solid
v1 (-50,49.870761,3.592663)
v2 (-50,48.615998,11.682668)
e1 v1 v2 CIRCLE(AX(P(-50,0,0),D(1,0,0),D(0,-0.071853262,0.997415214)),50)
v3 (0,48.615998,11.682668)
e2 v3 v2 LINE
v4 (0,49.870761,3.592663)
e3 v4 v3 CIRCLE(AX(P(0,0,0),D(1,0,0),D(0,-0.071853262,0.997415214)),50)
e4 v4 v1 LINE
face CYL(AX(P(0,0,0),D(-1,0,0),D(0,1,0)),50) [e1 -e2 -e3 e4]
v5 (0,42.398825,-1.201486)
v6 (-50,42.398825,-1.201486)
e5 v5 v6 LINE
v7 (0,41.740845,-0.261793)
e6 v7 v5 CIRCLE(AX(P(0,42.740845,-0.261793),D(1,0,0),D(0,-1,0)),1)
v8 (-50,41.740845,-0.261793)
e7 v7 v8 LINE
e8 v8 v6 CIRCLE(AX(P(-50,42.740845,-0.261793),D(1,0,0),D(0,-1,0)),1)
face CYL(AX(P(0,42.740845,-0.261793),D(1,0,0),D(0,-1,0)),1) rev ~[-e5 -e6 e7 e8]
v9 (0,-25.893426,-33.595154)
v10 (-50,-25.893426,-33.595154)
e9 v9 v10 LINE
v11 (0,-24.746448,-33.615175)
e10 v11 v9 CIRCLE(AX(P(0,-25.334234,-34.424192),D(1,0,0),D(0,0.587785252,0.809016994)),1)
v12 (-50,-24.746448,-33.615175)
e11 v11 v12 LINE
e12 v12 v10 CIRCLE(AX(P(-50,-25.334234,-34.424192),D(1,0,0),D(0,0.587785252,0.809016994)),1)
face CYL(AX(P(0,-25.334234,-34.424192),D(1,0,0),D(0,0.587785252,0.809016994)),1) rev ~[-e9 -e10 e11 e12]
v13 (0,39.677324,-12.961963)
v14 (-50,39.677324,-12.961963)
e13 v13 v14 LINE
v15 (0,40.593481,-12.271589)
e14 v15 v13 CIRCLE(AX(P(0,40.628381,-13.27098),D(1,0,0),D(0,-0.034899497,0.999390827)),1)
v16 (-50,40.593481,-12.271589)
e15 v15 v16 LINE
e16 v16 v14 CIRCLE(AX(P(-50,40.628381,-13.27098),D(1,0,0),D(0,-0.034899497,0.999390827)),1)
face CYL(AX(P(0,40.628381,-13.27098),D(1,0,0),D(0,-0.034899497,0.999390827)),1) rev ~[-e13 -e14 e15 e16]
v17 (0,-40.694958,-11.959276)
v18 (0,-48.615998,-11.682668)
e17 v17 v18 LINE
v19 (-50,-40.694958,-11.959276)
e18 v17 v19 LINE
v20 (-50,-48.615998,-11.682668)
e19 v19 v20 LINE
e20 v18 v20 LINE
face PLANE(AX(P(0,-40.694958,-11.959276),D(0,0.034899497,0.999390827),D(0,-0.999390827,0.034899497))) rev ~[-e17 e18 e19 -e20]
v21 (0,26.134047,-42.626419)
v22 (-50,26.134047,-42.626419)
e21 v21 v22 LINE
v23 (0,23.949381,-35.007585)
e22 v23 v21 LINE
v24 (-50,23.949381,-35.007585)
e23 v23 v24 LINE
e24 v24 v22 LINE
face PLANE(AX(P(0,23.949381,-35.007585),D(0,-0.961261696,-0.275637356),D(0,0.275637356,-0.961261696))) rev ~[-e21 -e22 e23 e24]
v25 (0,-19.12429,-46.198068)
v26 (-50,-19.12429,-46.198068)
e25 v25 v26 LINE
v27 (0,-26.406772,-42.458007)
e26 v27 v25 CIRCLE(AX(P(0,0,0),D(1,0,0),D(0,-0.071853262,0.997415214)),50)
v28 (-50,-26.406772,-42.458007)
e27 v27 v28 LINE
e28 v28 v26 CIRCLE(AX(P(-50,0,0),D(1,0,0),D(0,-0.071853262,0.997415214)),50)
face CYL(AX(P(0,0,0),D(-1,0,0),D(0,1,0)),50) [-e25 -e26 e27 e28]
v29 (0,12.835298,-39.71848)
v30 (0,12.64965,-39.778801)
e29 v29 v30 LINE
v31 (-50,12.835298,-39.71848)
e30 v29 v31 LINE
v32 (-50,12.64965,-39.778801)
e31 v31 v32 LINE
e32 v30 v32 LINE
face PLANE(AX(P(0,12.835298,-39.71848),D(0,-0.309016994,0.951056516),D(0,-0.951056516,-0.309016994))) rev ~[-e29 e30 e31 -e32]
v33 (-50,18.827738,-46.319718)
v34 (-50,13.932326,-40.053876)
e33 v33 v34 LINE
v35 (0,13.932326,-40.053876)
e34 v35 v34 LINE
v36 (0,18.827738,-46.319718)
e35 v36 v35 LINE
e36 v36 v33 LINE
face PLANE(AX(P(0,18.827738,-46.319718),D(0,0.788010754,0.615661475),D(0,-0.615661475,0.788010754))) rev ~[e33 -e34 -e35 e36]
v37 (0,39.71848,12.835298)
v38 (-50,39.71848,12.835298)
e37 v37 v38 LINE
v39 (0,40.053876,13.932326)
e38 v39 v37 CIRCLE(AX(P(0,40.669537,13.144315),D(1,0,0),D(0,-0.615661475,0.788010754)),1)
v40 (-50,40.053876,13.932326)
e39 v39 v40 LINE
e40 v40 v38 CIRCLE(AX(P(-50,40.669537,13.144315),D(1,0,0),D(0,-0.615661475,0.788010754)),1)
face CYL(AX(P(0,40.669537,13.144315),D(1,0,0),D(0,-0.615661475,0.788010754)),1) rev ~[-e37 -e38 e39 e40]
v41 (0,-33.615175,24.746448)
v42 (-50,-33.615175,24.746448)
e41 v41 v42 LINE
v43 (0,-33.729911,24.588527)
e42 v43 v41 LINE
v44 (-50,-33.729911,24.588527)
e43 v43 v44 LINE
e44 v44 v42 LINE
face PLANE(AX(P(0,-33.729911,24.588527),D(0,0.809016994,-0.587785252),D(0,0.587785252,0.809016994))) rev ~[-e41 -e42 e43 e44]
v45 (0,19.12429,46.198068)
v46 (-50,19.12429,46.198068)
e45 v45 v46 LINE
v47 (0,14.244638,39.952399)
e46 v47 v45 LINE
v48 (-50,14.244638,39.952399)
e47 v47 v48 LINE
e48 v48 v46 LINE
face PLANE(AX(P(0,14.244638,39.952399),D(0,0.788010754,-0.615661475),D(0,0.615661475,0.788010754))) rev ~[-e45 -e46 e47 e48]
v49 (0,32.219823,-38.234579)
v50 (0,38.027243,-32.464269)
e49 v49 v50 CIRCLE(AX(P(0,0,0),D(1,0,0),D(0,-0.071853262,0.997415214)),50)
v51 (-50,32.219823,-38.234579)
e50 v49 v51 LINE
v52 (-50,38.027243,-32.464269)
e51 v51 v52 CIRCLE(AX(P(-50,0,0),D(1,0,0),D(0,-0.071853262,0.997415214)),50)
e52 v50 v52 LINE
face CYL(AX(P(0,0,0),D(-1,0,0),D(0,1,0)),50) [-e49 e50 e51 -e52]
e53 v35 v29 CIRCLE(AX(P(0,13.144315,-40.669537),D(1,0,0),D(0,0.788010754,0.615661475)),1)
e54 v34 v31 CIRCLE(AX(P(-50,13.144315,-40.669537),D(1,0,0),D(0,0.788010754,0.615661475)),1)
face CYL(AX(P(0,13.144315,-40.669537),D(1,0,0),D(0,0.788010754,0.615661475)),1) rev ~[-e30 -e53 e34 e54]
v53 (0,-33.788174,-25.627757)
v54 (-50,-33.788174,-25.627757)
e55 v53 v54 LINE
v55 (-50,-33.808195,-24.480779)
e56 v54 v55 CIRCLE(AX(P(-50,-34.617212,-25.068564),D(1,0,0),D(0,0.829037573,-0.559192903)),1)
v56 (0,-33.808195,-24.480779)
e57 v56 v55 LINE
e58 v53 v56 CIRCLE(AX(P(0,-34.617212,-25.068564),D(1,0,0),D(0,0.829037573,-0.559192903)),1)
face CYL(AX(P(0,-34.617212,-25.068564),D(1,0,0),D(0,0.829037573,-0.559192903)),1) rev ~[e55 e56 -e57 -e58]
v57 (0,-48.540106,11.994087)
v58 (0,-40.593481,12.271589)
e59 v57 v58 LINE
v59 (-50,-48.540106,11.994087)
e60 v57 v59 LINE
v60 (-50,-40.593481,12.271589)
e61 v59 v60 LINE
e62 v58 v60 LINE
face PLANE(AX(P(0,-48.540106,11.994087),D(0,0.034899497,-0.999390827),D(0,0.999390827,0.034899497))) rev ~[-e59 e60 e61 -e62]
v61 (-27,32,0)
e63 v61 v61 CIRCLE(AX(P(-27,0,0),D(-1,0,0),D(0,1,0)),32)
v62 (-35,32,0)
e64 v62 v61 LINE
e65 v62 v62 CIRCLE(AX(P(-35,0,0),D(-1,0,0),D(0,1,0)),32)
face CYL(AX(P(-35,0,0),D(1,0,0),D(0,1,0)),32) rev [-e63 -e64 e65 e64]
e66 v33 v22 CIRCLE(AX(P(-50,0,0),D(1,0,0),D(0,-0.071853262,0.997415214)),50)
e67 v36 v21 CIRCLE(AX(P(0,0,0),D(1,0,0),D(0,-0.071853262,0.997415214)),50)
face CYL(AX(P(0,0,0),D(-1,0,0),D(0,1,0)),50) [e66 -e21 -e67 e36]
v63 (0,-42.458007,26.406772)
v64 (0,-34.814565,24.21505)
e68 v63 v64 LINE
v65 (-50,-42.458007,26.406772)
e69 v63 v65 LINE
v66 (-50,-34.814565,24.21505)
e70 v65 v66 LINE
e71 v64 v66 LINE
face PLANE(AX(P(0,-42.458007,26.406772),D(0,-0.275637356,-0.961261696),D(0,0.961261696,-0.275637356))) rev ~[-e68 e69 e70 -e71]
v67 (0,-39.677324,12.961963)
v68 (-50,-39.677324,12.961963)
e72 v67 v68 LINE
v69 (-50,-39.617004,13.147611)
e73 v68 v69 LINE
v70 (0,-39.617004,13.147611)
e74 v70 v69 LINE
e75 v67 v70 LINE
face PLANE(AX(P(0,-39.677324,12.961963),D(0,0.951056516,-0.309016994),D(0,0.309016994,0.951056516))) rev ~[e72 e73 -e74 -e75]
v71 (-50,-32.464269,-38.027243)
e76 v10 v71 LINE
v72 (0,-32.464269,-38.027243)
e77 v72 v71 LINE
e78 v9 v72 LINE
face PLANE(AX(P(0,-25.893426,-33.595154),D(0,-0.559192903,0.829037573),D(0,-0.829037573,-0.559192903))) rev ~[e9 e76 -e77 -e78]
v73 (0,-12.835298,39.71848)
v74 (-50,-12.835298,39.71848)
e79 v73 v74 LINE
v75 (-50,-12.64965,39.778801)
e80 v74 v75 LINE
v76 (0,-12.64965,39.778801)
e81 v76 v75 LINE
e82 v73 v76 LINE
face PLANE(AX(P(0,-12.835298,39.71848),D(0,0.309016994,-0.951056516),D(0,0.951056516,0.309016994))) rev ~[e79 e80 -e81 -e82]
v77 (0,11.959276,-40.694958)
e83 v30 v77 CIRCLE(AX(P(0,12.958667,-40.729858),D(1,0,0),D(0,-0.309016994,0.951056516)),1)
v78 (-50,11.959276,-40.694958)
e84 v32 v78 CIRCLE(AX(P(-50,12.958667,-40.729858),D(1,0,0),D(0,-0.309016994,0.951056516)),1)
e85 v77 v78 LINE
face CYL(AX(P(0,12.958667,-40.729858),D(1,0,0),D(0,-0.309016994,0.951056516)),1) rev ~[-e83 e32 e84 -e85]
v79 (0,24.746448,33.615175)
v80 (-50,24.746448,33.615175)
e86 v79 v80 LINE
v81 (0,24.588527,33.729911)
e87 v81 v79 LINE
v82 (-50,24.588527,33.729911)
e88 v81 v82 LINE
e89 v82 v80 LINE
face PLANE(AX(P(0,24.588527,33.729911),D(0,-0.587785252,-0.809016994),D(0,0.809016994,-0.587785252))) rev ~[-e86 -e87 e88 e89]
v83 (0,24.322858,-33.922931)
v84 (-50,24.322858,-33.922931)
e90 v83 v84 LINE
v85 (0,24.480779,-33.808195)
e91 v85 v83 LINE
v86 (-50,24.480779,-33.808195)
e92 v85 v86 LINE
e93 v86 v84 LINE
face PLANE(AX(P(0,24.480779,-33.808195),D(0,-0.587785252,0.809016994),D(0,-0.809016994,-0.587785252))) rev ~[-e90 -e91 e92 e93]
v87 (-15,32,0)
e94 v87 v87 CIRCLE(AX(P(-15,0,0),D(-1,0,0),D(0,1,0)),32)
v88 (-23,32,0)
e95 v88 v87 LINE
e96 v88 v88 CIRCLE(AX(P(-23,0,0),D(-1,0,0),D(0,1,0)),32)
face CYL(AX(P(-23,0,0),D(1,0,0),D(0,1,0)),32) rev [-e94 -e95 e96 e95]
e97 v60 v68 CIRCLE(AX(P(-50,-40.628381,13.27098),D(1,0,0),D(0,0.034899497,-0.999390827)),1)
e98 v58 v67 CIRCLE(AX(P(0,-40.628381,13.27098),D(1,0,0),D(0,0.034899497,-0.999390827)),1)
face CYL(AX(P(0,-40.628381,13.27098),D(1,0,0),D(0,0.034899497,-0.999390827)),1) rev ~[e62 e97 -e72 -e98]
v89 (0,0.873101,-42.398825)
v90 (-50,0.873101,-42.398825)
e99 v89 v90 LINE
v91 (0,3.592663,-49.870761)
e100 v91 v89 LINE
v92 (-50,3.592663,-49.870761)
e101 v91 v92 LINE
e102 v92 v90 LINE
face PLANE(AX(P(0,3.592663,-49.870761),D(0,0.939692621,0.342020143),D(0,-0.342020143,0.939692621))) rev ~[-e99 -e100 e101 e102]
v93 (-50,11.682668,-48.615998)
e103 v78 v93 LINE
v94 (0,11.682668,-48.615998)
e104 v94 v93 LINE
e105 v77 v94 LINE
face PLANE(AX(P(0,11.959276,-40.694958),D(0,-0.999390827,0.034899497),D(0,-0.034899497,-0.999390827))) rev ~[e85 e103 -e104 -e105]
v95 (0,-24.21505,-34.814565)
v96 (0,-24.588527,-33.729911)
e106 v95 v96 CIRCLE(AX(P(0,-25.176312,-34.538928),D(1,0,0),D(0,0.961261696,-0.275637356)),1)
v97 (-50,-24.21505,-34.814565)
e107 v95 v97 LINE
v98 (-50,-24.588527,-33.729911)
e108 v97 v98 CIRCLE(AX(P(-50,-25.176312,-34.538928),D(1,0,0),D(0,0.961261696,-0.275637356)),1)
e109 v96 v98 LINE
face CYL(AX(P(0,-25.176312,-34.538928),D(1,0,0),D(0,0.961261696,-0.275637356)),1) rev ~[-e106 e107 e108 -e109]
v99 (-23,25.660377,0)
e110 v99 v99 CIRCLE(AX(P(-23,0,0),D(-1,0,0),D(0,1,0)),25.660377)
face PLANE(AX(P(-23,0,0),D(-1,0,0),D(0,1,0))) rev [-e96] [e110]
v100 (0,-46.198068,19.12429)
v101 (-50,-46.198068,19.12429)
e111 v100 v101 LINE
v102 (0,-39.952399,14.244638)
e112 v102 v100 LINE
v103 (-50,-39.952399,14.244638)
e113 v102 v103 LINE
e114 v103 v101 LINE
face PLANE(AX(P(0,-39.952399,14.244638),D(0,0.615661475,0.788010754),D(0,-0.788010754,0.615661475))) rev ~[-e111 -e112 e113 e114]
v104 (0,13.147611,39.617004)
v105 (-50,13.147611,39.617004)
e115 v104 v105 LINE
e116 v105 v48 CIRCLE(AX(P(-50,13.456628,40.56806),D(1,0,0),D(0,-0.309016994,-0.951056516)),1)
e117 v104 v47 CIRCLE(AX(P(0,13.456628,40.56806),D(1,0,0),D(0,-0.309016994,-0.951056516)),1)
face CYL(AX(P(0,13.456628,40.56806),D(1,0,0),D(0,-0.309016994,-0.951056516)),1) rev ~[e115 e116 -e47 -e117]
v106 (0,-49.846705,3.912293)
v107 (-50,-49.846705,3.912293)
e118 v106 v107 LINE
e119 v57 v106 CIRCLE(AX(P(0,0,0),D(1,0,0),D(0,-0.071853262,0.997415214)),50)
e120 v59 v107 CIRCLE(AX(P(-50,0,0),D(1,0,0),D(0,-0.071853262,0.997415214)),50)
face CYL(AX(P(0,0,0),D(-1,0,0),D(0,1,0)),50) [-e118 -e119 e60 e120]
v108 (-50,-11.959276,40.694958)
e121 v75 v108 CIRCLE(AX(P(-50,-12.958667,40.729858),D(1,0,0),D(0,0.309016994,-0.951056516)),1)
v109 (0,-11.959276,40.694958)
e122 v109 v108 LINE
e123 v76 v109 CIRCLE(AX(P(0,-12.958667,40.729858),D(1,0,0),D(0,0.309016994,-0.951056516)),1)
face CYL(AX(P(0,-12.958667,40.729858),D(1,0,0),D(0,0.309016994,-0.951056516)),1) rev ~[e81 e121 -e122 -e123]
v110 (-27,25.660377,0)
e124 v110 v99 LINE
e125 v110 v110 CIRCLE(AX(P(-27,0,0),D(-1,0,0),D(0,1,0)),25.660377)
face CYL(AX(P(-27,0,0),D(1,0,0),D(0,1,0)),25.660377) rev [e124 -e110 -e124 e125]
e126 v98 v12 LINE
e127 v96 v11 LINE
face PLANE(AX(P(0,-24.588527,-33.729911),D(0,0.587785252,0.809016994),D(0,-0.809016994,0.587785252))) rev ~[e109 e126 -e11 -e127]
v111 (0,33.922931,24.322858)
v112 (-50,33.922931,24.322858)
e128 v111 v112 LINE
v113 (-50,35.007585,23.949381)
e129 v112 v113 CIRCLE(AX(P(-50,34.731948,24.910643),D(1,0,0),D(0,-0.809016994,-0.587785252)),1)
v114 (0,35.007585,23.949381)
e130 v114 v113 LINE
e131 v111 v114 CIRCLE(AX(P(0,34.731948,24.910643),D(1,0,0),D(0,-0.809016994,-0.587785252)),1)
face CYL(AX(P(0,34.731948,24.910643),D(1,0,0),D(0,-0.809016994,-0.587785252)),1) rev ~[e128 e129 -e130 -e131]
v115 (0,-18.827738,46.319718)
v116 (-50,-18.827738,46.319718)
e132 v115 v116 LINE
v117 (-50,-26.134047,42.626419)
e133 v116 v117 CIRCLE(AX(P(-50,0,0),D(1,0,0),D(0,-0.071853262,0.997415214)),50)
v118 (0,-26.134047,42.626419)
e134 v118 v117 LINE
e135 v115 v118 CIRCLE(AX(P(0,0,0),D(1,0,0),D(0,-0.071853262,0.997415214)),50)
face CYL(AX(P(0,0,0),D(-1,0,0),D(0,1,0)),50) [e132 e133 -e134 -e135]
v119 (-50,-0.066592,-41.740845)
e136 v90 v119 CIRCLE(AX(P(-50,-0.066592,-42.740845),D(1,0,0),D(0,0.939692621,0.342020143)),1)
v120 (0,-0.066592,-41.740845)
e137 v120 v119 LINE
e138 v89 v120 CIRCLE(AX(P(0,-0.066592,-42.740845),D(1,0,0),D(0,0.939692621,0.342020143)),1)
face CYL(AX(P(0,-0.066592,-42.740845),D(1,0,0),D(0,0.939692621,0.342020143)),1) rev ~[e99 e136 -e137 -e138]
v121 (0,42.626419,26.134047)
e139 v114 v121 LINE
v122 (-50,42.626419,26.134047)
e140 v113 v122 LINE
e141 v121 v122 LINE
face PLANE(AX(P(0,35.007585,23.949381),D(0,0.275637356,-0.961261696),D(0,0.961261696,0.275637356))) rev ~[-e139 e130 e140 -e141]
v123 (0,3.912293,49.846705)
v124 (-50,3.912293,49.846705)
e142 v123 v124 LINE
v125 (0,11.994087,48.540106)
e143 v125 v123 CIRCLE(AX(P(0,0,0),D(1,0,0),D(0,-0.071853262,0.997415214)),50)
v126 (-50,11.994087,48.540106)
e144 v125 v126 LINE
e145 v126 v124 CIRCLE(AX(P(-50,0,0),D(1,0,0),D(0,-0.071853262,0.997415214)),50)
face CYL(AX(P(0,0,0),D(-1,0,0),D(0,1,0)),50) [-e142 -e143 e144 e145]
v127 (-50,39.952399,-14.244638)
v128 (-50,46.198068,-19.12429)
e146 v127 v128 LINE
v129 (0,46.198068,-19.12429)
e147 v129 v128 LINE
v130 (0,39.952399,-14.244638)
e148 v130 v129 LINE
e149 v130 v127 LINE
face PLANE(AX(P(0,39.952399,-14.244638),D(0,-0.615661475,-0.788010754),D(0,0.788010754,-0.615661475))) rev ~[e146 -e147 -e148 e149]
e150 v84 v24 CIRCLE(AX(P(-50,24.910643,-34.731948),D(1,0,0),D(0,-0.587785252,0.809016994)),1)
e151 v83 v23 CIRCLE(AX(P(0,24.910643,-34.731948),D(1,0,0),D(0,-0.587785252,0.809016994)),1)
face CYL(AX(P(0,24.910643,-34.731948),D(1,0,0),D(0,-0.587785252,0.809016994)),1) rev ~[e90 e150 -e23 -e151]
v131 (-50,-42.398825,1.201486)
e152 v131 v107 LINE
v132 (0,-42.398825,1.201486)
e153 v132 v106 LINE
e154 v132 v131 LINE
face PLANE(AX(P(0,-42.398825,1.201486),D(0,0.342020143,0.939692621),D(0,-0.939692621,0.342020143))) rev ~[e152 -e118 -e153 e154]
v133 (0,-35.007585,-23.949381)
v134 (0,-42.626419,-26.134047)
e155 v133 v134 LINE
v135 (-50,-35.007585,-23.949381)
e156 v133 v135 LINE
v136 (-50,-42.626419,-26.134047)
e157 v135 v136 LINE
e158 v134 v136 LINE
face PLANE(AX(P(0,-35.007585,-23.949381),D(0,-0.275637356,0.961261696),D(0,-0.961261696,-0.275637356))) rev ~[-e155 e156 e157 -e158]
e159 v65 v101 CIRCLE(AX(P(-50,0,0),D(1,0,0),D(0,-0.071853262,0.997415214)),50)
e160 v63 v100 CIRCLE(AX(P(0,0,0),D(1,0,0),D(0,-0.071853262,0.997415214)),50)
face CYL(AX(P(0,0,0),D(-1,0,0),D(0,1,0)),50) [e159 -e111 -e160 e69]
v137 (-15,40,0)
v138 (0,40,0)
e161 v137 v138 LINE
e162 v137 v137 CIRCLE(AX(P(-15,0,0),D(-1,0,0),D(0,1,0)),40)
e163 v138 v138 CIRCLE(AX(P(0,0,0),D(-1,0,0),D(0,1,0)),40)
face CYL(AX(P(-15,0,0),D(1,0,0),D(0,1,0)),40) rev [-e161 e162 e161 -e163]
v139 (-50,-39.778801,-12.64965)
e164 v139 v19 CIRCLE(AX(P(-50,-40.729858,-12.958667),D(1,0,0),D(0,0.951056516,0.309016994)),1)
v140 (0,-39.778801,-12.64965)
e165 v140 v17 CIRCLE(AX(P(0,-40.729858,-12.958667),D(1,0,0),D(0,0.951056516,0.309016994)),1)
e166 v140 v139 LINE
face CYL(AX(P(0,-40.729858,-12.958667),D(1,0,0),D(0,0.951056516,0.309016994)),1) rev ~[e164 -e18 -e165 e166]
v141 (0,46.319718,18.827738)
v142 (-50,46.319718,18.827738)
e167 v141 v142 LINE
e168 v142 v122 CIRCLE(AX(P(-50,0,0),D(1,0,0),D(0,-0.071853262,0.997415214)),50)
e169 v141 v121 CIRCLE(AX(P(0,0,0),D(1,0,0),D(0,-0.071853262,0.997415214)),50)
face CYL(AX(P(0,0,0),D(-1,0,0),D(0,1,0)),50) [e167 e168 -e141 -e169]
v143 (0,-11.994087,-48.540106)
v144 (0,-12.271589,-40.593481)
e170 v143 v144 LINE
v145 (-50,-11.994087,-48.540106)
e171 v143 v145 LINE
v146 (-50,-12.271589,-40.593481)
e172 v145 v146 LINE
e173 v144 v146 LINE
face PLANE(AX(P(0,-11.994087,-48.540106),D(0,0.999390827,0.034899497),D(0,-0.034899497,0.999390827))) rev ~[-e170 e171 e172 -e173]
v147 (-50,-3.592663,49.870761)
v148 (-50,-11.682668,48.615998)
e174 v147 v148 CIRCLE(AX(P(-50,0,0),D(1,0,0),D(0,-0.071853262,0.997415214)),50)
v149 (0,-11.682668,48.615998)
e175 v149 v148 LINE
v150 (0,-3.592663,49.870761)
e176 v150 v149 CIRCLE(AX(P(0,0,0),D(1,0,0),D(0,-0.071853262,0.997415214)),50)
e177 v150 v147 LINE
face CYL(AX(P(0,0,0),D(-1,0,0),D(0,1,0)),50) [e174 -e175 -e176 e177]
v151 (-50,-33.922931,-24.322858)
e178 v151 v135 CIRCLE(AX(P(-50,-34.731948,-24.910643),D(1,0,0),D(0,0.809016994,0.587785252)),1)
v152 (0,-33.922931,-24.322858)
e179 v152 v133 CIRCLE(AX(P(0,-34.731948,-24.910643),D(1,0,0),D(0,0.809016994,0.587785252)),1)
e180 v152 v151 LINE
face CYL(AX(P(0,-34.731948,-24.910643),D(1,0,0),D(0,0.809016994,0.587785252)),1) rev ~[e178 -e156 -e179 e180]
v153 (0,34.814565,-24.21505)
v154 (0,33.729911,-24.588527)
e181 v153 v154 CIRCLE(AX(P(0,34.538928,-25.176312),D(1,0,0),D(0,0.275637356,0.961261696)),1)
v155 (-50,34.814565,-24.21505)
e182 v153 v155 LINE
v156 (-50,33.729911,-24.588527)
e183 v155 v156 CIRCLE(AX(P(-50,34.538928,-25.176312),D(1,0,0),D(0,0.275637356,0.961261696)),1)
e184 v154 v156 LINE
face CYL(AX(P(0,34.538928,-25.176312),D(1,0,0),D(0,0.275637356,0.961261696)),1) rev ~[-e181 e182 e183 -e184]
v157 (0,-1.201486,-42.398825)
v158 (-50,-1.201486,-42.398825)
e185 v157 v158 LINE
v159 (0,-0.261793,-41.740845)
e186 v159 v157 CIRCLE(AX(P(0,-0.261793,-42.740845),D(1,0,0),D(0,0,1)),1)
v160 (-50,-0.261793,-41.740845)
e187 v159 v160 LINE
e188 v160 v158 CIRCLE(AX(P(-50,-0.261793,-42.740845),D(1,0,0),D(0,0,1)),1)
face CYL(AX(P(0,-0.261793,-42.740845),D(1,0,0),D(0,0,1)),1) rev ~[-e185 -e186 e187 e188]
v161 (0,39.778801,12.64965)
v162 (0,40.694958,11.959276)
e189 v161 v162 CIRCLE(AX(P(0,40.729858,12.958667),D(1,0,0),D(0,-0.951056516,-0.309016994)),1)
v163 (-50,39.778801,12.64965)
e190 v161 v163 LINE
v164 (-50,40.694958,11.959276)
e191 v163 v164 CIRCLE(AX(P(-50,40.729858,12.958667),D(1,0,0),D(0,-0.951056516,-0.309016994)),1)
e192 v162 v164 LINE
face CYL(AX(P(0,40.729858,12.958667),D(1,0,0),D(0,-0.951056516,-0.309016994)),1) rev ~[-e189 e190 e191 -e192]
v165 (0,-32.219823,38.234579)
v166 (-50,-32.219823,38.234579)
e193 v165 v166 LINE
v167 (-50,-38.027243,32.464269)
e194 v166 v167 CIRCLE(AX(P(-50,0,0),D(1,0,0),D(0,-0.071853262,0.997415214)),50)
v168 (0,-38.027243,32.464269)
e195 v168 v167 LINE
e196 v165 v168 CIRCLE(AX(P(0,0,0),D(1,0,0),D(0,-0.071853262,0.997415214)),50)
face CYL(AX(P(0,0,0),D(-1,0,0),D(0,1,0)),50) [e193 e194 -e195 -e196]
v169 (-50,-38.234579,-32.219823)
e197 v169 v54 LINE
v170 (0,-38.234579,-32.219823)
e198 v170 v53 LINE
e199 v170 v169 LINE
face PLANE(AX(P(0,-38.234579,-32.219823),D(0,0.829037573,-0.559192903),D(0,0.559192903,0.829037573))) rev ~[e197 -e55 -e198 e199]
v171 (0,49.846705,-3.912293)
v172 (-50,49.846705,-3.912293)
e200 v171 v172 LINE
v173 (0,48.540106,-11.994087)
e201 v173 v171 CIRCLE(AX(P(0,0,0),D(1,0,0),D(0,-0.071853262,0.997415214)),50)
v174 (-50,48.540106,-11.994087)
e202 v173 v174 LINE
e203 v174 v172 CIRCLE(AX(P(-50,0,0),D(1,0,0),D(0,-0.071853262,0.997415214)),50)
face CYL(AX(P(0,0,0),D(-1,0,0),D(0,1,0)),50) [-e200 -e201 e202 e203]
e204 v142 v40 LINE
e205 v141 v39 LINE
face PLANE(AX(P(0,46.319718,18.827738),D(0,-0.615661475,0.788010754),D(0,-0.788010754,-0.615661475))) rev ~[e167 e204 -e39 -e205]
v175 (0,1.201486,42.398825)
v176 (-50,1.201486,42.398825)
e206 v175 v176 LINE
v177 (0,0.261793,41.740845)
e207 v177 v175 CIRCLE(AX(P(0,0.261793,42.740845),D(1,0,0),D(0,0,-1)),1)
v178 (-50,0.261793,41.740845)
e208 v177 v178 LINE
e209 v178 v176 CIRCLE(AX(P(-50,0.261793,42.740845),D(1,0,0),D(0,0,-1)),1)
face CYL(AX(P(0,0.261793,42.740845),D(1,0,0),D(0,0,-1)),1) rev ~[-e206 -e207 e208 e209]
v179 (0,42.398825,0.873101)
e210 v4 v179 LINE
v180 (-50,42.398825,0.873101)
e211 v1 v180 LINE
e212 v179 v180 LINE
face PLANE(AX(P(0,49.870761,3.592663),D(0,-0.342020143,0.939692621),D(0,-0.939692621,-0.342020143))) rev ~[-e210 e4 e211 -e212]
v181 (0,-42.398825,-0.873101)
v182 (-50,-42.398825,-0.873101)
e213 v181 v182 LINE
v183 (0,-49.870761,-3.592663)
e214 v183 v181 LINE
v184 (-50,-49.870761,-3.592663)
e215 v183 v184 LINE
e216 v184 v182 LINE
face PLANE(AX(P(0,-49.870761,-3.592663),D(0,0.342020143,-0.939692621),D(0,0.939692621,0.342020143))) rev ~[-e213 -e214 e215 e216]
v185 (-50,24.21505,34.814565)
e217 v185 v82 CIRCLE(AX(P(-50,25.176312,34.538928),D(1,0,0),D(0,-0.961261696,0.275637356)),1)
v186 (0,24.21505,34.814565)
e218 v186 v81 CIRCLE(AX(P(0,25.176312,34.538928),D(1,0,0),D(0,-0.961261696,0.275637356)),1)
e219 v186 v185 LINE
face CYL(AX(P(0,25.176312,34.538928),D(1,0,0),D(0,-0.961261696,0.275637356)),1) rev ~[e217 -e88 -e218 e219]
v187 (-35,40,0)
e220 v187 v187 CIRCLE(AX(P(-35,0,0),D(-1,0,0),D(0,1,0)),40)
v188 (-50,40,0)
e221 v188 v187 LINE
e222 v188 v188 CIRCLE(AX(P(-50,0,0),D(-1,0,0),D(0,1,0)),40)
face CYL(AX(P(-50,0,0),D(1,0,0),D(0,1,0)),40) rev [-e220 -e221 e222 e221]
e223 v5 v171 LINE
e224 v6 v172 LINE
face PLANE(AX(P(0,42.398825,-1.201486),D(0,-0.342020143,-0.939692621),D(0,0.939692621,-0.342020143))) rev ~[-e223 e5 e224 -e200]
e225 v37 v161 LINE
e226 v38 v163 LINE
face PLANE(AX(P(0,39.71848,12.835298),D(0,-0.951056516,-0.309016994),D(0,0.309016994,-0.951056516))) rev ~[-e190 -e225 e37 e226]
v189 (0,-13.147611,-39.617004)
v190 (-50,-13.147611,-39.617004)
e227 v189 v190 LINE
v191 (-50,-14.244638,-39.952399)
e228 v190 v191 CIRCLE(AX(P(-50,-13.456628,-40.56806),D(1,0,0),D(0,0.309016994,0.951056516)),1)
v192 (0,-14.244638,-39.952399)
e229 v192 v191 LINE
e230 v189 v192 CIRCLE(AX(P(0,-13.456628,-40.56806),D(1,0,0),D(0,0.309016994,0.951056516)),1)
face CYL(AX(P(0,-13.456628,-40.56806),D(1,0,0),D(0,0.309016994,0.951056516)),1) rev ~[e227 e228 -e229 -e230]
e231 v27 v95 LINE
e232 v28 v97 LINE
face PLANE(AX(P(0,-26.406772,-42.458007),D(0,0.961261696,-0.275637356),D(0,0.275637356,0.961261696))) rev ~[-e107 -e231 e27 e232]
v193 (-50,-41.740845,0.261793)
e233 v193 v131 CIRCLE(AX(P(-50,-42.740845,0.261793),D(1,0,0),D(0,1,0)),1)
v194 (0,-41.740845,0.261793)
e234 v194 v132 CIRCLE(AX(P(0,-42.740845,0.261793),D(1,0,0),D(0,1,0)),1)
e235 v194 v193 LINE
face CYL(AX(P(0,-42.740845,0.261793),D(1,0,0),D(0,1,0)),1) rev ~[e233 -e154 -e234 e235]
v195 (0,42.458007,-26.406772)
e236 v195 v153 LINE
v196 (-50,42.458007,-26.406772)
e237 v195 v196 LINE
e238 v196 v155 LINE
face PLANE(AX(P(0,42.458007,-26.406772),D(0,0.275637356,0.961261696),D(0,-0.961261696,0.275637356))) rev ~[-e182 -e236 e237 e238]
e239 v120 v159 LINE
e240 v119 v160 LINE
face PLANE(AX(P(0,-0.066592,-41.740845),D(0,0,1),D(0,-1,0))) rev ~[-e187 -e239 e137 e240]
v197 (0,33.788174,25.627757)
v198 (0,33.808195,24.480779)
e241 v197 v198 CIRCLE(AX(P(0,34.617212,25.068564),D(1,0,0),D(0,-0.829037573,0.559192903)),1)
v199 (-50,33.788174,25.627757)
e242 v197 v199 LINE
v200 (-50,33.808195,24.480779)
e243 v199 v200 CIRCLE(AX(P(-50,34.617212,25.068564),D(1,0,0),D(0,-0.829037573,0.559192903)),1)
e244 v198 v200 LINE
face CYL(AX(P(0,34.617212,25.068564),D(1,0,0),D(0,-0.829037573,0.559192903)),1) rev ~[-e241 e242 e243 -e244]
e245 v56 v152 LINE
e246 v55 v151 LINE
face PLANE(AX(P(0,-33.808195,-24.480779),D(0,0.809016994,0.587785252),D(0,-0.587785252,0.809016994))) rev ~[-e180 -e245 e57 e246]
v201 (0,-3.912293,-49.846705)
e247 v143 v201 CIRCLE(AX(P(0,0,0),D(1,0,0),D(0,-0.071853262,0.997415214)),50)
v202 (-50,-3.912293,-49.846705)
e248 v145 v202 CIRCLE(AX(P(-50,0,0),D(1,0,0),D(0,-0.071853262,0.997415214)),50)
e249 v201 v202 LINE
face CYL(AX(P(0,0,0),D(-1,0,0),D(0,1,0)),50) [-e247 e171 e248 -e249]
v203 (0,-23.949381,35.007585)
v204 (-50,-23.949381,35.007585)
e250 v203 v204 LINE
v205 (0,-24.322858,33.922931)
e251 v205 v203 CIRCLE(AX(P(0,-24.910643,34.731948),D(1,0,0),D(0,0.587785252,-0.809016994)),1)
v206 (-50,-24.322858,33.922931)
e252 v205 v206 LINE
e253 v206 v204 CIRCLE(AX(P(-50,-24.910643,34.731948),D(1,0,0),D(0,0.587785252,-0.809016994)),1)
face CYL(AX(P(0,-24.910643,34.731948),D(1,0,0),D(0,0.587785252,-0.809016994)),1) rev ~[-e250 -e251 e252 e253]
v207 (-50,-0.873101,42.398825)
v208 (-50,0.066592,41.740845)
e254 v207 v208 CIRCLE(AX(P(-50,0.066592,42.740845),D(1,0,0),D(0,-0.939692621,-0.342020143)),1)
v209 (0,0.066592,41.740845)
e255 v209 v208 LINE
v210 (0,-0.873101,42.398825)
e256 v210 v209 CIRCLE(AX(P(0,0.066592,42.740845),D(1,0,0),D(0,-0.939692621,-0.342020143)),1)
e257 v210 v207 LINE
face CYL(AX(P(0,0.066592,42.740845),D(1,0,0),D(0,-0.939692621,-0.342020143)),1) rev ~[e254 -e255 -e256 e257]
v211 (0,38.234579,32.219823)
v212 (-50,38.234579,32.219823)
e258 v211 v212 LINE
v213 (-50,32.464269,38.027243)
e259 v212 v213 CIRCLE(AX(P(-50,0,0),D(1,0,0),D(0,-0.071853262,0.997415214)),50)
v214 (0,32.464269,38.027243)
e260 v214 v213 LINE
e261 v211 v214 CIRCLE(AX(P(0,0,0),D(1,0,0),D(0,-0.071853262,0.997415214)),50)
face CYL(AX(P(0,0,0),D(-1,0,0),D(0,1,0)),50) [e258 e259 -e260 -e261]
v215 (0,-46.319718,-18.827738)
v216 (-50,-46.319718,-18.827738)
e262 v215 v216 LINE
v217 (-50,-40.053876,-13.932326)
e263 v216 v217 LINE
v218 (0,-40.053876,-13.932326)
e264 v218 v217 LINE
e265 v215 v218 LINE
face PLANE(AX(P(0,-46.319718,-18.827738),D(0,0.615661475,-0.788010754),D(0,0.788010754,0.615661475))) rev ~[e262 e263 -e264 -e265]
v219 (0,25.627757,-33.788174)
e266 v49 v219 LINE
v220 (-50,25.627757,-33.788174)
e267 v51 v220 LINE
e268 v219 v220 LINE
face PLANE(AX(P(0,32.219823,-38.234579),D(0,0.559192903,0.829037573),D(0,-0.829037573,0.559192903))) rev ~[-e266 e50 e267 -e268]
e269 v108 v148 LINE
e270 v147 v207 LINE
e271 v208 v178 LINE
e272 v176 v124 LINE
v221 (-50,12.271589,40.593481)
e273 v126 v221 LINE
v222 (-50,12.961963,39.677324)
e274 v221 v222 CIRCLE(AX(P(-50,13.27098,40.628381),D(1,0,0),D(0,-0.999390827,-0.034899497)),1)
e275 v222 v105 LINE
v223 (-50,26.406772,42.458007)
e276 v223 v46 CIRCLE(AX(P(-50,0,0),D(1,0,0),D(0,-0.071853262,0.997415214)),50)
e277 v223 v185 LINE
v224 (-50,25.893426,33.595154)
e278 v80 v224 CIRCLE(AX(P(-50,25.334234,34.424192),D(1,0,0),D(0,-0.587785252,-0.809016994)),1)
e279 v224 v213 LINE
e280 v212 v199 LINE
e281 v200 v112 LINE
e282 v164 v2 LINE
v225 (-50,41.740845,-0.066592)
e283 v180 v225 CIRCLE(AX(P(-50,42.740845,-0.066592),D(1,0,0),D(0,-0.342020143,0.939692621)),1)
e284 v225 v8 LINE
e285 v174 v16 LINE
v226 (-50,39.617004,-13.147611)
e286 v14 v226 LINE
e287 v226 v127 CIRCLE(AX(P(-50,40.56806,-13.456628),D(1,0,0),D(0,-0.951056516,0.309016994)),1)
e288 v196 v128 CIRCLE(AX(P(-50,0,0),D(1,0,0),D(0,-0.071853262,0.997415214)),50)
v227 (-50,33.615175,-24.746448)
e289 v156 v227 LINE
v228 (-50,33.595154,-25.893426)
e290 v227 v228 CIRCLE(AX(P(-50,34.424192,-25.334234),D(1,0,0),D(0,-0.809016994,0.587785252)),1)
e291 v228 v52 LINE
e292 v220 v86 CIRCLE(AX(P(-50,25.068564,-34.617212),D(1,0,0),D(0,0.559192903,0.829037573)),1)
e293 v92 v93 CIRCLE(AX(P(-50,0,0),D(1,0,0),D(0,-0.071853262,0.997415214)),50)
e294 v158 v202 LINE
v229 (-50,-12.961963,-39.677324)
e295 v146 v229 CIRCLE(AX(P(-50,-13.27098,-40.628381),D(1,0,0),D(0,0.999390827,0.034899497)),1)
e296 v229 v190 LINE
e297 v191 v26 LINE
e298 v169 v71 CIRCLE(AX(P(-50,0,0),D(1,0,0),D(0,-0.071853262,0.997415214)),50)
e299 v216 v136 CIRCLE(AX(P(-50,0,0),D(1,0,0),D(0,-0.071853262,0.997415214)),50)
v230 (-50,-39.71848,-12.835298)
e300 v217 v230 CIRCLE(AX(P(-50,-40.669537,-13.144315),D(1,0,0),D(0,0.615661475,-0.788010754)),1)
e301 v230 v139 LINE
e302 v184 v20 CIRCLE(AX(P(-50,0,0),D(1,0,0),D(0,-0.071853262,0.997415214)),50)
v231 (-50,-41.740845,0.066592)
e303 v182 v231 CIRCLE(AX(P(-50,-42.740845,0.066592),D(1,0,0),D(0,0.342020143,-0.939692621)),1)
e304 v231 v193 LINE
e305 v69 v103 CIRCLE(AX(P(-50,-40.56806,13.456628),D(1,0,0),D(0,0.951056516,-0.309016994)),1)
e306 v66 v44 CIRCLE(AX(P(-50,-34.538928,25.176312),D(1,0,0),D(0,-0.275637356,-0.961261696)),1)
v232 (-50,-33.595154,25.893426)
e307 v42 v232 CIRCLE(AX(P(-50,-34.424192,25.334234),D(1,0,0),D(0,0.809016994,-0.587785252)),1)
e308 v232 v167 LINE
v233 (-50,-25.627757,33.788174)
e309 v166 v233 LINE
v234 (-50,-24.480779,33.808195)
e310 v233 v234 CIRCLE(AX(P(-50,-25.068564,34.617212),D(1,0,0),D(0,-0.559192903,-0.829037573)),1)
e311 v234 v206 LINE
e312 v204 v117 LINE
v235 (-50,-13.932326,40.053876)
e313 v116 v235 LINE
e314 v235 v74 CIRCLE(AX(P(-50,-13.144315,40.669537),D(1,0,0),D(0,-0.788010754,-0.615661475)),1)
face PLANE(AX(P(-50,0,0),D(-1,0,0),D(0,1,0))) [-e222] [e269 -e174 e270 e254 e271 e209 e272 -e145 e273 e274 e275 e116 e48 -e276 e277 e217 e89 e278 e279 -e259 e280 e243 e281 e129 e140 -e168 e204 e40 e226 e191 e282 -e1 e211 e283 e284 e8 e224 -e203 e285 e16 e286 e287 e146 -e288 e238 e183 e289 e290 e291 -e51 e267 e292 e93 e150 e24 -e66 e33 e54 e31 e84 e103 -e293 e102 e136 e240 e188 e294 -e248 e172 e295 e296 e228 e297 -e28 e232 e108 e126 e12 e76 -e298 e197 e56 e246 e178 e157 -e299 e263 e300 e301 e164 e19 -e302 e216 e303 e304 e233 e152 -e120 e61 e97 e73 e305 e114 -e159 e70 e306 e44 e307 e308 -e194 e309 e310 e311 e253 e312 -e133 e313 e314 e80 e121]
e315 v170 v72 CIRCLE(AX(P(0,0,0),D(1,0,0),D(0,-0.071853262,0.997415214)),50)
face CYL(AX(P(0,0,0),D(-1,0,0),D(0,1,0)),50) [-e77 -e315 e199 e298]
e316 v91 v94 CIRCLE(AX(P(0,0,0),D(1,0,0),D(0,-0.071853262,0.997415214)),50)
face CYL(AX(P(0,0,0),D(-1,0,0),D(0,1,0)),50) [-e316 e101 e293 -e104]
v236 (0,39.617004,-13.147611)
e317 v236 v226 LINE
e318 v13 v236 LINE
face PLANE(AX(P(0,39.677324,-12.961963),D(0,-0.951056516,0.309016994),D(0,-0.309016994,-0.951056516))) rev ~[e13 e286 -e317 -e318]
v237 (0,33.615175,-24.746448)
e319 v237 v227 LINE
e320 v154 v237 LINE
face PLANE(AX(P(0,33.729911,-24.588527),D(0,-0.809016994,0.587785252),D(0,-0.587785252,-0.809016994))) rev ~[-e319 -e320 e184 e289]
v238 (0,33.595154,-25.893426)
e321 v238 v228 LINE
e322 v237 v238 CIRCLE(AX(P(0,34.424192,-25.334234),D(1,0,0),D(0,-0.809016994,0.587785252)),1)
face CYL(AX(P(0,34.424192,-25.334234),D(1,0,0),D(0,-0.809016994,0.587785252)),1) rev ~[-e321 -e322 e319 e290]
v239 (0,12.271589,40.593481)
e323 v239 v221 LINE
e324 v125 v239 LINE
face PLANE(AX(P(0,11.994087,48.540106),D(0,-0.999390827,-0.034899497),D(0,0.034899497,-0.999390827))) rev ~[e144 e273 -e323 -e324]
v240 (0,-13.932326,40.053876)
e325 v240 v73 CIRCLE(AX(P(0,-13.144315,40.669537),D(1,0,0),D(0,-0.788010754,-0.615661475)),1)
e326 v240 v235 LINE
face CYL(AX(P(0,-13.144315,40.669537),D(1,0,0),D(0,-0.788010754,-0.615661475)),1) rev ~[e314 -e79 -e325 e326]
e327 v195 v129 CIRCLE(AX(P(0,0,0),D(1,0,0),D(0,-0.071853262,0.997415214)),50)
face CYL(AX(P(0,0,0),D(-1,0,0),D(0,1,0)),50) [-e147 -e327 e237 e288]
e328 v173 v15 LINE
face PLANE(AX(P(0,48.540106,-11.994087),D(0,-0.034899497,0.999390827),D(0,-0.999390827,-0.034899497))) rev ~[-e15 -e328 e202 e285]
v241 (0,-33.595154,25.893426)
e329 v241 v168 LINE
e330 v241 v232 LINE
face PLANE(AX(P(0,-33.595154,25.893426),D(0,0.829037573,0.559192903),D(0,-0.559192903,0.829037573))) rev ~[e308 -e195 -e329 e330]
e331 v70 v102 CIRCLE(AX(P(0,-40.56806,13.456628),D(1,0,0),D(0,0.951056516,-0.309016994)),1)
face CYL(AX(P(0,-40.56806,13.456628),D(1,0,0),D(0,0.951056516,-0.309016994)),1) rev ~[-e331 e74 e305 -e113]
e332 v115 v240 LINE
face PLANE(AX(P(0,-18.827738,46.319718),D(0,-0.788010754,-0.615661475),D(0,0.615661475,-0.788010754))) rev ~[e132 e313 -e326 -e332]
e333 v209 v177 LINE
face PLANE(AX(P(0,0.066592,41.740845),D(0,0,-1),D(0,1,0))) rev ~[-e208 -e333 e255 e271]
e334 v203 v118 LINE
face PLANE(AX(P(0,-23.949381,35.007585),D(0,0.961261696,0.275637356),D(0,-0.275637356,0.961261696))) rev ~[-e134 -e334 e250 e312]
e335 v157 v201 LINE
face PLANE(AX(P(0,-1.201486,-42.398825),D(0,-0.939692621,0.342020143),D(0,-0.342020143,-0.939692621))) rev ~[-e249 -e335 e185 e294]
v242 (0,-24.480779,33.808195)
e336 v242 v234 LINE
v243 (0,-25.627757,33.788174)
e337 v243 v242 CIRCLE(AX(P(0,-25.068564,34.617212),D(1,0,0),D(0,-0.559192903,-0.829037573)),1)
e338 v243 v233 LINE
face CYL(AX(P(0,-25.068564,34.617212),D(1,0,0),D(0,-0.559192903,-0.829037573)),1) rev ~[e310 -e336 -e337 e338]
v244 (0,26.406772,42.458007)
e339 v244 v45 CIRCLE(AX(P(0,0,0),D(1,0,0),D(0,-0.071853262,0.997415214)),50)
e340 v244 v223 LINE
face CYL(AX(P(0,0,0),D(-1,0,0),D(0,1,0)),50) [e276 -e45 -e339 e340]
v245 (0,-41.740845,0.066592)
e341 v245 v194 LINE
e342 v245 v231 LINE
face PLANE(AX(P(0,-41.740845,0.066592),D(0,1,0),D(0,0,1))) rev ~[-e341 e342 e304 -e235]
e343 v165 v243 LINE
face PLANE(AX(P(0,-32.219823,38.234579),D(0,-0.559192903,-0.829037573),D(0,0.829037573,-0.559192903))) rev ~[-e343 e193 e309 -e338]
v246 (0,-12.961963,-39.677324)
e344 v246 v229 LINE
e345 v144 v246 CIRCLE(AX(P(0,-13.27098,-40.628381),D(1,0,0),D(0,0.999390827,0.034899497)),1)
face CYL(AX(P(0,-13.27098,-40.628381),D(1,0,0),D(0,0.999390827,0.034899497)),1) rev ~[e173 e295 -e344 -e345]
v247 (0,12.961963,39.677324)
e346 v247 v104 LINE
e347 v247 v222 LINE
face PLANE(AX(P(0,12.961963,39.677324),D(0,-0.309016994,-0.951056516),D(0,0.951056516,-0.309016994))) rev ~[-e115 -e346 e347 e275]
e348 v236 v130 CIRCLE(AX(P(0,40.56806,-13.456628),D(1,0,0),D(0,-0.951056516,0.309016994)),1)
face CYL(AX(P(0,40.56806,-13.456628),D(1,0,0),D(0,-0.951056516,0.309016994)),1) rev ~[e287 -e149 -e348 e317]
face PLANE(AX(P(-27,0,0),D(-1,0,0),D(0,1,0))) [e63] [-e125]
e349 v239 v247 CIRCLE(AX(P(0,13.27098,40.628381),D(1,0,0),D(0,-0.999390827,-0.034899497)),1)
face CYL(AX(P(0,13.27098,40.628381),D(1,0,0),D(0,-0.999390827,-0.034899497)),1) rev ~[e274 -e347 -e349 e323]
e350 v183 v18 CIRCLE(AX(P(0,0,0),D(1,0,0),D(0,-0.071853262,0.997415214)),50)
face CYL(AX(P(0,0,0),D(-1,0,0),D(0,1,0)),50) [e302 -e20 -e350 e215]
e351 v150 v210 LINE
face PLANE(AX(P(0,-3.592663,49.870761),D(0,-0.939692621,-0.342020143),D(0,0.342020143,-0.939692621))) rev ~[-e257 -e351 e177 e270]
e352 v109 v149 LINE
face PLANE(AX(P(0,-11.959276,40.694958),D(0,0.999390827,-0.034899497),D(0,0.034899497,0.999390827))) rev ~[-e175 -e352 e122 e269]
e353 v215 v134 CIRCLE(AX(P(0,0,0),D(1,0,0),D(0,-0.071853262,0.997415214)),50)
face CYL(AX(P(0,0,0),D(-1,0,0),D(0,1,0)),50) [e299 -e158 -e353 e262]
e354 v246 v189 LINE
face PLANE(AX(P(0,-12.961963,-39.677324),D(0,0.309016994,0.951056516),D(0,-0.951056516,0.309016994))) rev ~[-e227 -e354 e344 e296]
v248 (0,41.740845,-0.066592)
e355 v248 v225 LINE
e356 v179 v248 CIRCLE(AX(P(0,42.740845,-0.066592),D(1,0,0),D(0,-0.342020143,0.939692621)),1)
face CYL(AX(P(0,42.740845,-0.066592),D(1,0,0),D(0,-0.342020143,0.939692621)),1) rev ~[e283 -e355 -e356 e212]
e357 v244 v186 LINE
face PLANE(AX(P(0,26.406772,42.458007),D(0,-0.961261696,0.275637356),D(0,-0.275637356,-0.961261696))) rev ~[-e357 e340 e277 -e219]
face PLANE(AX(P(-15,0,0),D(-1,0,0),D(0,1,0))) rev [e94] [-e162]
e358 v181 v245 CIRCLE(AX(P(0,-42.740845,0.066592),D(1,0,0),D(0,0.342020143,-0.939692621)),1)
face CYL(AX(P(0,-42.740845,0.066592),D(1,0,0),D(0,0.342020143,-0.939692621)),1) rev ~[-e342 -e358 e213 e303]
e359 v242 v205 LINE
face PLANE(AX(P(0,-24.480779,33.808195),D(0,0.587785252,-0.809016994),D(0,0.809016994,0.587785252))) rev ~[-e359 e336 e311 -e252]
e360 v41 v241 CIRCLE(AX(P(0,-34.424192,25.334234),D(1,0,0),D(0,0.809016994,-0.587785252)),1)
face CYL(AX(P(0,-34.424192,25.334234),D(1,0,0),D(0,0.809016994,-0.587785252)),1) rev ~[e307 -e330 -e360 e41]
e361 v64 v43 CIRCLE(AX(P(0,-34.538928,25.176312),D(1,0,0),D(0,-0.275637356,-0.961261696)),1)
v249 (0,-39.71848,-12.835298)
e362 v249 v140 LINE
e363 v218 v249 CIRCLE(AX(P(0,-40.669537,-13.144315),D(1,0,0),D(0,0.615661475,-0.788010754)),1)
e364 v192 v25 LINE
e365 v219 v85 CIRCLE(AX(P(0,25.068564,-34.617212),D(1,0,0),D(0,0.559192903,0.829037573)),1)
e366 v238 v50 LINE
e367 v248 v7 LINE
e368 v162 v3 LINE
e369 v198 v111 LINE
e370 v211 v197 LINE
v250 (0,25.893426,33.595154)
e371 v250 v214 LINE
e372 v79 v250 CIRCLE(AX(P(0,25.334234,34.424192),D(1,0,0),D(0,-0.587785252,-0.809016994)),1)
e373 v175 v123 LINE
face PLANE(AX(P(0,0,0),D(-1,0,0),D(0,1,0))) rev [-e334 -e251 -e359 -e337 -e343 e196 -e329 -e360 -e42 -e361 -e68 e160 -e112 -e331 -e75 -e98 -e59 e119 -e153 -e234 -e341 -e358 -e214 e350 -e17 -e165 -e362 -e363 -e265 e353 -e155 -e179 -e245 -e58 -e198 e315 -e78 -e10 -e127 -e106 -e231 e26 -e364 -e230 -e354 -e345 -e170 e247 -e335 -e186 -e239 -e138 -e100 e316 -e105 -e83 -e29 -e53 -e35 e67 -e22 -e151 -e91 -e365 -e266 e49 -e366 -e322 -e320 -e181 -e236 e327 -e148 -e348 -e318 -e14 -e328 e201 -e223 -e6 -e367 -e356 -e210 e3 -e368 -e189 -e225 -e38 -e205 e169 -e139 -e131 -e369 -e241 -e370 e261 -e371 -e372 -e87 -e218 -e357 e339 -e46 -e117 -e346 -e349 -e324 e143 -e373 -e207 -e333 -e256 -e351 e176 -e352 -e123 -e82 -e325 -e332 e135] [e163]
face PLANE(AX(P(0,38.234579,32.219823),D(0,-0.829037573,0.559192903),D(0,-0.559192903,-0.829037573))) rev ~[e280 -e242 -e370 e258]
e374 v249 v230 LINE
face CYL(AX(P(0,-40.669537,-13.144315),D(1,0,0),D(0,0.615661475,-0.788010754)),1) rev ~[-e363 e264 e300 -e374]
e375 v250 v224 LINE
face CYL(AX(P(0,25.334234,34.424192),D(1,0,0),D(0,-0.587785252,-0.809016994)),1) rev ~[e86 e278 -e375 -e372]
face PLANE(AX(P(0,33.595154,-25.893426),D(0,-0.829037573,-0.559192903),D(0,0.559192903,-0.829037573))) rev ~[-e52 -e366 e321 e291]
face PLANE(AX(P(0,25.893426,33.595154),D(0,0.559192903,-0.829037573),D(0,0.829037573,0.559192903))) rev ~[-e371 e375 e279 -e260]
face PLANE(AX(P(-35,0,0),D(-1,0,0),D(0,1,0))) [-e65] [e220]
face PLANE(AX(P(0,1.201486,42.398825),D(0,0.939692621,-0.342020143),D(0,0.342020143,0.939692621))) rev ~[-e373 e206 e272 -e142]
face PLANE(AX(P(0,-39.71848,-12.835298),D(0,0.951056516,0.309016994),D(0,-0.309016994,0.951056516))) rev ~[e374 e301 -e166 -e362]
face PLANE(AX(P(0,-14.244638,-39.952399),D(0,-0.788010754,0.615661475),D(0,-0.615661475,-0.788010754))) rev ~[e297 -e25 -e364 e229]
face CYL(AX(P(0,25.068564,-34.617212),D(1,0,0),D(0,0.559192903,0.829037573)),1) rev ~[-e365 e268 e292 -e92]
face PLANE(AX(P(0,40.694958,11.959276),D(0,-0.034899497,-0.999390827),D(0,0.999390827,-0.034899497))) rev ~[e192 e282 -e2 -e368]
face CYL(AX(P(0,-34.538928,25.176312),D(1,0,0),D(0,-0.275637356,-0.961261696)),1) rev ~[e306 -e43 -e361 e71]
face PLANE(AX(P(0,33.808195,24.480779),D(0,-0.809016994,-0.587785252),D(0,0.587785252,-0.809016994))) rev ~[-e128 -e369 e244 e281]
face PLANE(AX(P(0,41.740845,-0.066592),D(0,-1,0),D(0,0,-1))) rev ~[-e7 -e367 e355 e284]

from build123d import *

# Parameters (mm, degrees)
F3_DEPTH = 50
F4_COUNT = 20


with BuildPart() as f1:
    # F0 (on Top) → F1 (revolve)
    with BuildSketch(Plane.XY):
        Polygon((0, 40), (0, 50), (-50, 50), (-50, 40), (-35, 40), (-35, 32), (-27, 32), (-27, 25.6603773385), (-23, 25.6603773385), (-23, 32), (-15, 32), (-15, 40), align=None)
    revolve(axis=Axis((-25, 0, 0), (-1, 0, 0)))

    # F2 (on face) → F3 (cut)
    with BuildSketch(Plane.YZ):
        with BuildLine():
            Line((1.2014859403, 42.3988246892), (3.9122925633, 49.8467046744))
            ThreePointArc((3.9122925633, 49.8467046744), (0.160266729, 49.9997431451), (-3.5926630814, 49.8707606918))
            Line((-3.5926630814, 49.8707606918), (-0.8731007841, 42.3988246892))
            ThreePointArc((-0.8731007841, 42.3988246892), (-0.5069845997, 41.9216927883), (0.0665918367, 41.7408448326))
            Line((0.0665918367, 41.7408448326), (0.2617933195, 41.7408448326))
            ThreePointArc((0.2617933195, 41.7408448326), (0.8353697558, 41.9216927883), (1.2014859403, 42.3988246892))
        make_face()
    f3 = extrude(amount=-F3_DEPTH, mode=Mode.SUBTRACT)

    # F4: F3 ×20 about axis
    f4_axis = Axis((0, 0, 0), (-1, 0, 0))
    for i in range(1, F4_COUNT):
        add(f3.rotate(f4_axis, i * 360 / F4_COUNT), mode=Mode.SUBTRACT)


solid = f1.part
